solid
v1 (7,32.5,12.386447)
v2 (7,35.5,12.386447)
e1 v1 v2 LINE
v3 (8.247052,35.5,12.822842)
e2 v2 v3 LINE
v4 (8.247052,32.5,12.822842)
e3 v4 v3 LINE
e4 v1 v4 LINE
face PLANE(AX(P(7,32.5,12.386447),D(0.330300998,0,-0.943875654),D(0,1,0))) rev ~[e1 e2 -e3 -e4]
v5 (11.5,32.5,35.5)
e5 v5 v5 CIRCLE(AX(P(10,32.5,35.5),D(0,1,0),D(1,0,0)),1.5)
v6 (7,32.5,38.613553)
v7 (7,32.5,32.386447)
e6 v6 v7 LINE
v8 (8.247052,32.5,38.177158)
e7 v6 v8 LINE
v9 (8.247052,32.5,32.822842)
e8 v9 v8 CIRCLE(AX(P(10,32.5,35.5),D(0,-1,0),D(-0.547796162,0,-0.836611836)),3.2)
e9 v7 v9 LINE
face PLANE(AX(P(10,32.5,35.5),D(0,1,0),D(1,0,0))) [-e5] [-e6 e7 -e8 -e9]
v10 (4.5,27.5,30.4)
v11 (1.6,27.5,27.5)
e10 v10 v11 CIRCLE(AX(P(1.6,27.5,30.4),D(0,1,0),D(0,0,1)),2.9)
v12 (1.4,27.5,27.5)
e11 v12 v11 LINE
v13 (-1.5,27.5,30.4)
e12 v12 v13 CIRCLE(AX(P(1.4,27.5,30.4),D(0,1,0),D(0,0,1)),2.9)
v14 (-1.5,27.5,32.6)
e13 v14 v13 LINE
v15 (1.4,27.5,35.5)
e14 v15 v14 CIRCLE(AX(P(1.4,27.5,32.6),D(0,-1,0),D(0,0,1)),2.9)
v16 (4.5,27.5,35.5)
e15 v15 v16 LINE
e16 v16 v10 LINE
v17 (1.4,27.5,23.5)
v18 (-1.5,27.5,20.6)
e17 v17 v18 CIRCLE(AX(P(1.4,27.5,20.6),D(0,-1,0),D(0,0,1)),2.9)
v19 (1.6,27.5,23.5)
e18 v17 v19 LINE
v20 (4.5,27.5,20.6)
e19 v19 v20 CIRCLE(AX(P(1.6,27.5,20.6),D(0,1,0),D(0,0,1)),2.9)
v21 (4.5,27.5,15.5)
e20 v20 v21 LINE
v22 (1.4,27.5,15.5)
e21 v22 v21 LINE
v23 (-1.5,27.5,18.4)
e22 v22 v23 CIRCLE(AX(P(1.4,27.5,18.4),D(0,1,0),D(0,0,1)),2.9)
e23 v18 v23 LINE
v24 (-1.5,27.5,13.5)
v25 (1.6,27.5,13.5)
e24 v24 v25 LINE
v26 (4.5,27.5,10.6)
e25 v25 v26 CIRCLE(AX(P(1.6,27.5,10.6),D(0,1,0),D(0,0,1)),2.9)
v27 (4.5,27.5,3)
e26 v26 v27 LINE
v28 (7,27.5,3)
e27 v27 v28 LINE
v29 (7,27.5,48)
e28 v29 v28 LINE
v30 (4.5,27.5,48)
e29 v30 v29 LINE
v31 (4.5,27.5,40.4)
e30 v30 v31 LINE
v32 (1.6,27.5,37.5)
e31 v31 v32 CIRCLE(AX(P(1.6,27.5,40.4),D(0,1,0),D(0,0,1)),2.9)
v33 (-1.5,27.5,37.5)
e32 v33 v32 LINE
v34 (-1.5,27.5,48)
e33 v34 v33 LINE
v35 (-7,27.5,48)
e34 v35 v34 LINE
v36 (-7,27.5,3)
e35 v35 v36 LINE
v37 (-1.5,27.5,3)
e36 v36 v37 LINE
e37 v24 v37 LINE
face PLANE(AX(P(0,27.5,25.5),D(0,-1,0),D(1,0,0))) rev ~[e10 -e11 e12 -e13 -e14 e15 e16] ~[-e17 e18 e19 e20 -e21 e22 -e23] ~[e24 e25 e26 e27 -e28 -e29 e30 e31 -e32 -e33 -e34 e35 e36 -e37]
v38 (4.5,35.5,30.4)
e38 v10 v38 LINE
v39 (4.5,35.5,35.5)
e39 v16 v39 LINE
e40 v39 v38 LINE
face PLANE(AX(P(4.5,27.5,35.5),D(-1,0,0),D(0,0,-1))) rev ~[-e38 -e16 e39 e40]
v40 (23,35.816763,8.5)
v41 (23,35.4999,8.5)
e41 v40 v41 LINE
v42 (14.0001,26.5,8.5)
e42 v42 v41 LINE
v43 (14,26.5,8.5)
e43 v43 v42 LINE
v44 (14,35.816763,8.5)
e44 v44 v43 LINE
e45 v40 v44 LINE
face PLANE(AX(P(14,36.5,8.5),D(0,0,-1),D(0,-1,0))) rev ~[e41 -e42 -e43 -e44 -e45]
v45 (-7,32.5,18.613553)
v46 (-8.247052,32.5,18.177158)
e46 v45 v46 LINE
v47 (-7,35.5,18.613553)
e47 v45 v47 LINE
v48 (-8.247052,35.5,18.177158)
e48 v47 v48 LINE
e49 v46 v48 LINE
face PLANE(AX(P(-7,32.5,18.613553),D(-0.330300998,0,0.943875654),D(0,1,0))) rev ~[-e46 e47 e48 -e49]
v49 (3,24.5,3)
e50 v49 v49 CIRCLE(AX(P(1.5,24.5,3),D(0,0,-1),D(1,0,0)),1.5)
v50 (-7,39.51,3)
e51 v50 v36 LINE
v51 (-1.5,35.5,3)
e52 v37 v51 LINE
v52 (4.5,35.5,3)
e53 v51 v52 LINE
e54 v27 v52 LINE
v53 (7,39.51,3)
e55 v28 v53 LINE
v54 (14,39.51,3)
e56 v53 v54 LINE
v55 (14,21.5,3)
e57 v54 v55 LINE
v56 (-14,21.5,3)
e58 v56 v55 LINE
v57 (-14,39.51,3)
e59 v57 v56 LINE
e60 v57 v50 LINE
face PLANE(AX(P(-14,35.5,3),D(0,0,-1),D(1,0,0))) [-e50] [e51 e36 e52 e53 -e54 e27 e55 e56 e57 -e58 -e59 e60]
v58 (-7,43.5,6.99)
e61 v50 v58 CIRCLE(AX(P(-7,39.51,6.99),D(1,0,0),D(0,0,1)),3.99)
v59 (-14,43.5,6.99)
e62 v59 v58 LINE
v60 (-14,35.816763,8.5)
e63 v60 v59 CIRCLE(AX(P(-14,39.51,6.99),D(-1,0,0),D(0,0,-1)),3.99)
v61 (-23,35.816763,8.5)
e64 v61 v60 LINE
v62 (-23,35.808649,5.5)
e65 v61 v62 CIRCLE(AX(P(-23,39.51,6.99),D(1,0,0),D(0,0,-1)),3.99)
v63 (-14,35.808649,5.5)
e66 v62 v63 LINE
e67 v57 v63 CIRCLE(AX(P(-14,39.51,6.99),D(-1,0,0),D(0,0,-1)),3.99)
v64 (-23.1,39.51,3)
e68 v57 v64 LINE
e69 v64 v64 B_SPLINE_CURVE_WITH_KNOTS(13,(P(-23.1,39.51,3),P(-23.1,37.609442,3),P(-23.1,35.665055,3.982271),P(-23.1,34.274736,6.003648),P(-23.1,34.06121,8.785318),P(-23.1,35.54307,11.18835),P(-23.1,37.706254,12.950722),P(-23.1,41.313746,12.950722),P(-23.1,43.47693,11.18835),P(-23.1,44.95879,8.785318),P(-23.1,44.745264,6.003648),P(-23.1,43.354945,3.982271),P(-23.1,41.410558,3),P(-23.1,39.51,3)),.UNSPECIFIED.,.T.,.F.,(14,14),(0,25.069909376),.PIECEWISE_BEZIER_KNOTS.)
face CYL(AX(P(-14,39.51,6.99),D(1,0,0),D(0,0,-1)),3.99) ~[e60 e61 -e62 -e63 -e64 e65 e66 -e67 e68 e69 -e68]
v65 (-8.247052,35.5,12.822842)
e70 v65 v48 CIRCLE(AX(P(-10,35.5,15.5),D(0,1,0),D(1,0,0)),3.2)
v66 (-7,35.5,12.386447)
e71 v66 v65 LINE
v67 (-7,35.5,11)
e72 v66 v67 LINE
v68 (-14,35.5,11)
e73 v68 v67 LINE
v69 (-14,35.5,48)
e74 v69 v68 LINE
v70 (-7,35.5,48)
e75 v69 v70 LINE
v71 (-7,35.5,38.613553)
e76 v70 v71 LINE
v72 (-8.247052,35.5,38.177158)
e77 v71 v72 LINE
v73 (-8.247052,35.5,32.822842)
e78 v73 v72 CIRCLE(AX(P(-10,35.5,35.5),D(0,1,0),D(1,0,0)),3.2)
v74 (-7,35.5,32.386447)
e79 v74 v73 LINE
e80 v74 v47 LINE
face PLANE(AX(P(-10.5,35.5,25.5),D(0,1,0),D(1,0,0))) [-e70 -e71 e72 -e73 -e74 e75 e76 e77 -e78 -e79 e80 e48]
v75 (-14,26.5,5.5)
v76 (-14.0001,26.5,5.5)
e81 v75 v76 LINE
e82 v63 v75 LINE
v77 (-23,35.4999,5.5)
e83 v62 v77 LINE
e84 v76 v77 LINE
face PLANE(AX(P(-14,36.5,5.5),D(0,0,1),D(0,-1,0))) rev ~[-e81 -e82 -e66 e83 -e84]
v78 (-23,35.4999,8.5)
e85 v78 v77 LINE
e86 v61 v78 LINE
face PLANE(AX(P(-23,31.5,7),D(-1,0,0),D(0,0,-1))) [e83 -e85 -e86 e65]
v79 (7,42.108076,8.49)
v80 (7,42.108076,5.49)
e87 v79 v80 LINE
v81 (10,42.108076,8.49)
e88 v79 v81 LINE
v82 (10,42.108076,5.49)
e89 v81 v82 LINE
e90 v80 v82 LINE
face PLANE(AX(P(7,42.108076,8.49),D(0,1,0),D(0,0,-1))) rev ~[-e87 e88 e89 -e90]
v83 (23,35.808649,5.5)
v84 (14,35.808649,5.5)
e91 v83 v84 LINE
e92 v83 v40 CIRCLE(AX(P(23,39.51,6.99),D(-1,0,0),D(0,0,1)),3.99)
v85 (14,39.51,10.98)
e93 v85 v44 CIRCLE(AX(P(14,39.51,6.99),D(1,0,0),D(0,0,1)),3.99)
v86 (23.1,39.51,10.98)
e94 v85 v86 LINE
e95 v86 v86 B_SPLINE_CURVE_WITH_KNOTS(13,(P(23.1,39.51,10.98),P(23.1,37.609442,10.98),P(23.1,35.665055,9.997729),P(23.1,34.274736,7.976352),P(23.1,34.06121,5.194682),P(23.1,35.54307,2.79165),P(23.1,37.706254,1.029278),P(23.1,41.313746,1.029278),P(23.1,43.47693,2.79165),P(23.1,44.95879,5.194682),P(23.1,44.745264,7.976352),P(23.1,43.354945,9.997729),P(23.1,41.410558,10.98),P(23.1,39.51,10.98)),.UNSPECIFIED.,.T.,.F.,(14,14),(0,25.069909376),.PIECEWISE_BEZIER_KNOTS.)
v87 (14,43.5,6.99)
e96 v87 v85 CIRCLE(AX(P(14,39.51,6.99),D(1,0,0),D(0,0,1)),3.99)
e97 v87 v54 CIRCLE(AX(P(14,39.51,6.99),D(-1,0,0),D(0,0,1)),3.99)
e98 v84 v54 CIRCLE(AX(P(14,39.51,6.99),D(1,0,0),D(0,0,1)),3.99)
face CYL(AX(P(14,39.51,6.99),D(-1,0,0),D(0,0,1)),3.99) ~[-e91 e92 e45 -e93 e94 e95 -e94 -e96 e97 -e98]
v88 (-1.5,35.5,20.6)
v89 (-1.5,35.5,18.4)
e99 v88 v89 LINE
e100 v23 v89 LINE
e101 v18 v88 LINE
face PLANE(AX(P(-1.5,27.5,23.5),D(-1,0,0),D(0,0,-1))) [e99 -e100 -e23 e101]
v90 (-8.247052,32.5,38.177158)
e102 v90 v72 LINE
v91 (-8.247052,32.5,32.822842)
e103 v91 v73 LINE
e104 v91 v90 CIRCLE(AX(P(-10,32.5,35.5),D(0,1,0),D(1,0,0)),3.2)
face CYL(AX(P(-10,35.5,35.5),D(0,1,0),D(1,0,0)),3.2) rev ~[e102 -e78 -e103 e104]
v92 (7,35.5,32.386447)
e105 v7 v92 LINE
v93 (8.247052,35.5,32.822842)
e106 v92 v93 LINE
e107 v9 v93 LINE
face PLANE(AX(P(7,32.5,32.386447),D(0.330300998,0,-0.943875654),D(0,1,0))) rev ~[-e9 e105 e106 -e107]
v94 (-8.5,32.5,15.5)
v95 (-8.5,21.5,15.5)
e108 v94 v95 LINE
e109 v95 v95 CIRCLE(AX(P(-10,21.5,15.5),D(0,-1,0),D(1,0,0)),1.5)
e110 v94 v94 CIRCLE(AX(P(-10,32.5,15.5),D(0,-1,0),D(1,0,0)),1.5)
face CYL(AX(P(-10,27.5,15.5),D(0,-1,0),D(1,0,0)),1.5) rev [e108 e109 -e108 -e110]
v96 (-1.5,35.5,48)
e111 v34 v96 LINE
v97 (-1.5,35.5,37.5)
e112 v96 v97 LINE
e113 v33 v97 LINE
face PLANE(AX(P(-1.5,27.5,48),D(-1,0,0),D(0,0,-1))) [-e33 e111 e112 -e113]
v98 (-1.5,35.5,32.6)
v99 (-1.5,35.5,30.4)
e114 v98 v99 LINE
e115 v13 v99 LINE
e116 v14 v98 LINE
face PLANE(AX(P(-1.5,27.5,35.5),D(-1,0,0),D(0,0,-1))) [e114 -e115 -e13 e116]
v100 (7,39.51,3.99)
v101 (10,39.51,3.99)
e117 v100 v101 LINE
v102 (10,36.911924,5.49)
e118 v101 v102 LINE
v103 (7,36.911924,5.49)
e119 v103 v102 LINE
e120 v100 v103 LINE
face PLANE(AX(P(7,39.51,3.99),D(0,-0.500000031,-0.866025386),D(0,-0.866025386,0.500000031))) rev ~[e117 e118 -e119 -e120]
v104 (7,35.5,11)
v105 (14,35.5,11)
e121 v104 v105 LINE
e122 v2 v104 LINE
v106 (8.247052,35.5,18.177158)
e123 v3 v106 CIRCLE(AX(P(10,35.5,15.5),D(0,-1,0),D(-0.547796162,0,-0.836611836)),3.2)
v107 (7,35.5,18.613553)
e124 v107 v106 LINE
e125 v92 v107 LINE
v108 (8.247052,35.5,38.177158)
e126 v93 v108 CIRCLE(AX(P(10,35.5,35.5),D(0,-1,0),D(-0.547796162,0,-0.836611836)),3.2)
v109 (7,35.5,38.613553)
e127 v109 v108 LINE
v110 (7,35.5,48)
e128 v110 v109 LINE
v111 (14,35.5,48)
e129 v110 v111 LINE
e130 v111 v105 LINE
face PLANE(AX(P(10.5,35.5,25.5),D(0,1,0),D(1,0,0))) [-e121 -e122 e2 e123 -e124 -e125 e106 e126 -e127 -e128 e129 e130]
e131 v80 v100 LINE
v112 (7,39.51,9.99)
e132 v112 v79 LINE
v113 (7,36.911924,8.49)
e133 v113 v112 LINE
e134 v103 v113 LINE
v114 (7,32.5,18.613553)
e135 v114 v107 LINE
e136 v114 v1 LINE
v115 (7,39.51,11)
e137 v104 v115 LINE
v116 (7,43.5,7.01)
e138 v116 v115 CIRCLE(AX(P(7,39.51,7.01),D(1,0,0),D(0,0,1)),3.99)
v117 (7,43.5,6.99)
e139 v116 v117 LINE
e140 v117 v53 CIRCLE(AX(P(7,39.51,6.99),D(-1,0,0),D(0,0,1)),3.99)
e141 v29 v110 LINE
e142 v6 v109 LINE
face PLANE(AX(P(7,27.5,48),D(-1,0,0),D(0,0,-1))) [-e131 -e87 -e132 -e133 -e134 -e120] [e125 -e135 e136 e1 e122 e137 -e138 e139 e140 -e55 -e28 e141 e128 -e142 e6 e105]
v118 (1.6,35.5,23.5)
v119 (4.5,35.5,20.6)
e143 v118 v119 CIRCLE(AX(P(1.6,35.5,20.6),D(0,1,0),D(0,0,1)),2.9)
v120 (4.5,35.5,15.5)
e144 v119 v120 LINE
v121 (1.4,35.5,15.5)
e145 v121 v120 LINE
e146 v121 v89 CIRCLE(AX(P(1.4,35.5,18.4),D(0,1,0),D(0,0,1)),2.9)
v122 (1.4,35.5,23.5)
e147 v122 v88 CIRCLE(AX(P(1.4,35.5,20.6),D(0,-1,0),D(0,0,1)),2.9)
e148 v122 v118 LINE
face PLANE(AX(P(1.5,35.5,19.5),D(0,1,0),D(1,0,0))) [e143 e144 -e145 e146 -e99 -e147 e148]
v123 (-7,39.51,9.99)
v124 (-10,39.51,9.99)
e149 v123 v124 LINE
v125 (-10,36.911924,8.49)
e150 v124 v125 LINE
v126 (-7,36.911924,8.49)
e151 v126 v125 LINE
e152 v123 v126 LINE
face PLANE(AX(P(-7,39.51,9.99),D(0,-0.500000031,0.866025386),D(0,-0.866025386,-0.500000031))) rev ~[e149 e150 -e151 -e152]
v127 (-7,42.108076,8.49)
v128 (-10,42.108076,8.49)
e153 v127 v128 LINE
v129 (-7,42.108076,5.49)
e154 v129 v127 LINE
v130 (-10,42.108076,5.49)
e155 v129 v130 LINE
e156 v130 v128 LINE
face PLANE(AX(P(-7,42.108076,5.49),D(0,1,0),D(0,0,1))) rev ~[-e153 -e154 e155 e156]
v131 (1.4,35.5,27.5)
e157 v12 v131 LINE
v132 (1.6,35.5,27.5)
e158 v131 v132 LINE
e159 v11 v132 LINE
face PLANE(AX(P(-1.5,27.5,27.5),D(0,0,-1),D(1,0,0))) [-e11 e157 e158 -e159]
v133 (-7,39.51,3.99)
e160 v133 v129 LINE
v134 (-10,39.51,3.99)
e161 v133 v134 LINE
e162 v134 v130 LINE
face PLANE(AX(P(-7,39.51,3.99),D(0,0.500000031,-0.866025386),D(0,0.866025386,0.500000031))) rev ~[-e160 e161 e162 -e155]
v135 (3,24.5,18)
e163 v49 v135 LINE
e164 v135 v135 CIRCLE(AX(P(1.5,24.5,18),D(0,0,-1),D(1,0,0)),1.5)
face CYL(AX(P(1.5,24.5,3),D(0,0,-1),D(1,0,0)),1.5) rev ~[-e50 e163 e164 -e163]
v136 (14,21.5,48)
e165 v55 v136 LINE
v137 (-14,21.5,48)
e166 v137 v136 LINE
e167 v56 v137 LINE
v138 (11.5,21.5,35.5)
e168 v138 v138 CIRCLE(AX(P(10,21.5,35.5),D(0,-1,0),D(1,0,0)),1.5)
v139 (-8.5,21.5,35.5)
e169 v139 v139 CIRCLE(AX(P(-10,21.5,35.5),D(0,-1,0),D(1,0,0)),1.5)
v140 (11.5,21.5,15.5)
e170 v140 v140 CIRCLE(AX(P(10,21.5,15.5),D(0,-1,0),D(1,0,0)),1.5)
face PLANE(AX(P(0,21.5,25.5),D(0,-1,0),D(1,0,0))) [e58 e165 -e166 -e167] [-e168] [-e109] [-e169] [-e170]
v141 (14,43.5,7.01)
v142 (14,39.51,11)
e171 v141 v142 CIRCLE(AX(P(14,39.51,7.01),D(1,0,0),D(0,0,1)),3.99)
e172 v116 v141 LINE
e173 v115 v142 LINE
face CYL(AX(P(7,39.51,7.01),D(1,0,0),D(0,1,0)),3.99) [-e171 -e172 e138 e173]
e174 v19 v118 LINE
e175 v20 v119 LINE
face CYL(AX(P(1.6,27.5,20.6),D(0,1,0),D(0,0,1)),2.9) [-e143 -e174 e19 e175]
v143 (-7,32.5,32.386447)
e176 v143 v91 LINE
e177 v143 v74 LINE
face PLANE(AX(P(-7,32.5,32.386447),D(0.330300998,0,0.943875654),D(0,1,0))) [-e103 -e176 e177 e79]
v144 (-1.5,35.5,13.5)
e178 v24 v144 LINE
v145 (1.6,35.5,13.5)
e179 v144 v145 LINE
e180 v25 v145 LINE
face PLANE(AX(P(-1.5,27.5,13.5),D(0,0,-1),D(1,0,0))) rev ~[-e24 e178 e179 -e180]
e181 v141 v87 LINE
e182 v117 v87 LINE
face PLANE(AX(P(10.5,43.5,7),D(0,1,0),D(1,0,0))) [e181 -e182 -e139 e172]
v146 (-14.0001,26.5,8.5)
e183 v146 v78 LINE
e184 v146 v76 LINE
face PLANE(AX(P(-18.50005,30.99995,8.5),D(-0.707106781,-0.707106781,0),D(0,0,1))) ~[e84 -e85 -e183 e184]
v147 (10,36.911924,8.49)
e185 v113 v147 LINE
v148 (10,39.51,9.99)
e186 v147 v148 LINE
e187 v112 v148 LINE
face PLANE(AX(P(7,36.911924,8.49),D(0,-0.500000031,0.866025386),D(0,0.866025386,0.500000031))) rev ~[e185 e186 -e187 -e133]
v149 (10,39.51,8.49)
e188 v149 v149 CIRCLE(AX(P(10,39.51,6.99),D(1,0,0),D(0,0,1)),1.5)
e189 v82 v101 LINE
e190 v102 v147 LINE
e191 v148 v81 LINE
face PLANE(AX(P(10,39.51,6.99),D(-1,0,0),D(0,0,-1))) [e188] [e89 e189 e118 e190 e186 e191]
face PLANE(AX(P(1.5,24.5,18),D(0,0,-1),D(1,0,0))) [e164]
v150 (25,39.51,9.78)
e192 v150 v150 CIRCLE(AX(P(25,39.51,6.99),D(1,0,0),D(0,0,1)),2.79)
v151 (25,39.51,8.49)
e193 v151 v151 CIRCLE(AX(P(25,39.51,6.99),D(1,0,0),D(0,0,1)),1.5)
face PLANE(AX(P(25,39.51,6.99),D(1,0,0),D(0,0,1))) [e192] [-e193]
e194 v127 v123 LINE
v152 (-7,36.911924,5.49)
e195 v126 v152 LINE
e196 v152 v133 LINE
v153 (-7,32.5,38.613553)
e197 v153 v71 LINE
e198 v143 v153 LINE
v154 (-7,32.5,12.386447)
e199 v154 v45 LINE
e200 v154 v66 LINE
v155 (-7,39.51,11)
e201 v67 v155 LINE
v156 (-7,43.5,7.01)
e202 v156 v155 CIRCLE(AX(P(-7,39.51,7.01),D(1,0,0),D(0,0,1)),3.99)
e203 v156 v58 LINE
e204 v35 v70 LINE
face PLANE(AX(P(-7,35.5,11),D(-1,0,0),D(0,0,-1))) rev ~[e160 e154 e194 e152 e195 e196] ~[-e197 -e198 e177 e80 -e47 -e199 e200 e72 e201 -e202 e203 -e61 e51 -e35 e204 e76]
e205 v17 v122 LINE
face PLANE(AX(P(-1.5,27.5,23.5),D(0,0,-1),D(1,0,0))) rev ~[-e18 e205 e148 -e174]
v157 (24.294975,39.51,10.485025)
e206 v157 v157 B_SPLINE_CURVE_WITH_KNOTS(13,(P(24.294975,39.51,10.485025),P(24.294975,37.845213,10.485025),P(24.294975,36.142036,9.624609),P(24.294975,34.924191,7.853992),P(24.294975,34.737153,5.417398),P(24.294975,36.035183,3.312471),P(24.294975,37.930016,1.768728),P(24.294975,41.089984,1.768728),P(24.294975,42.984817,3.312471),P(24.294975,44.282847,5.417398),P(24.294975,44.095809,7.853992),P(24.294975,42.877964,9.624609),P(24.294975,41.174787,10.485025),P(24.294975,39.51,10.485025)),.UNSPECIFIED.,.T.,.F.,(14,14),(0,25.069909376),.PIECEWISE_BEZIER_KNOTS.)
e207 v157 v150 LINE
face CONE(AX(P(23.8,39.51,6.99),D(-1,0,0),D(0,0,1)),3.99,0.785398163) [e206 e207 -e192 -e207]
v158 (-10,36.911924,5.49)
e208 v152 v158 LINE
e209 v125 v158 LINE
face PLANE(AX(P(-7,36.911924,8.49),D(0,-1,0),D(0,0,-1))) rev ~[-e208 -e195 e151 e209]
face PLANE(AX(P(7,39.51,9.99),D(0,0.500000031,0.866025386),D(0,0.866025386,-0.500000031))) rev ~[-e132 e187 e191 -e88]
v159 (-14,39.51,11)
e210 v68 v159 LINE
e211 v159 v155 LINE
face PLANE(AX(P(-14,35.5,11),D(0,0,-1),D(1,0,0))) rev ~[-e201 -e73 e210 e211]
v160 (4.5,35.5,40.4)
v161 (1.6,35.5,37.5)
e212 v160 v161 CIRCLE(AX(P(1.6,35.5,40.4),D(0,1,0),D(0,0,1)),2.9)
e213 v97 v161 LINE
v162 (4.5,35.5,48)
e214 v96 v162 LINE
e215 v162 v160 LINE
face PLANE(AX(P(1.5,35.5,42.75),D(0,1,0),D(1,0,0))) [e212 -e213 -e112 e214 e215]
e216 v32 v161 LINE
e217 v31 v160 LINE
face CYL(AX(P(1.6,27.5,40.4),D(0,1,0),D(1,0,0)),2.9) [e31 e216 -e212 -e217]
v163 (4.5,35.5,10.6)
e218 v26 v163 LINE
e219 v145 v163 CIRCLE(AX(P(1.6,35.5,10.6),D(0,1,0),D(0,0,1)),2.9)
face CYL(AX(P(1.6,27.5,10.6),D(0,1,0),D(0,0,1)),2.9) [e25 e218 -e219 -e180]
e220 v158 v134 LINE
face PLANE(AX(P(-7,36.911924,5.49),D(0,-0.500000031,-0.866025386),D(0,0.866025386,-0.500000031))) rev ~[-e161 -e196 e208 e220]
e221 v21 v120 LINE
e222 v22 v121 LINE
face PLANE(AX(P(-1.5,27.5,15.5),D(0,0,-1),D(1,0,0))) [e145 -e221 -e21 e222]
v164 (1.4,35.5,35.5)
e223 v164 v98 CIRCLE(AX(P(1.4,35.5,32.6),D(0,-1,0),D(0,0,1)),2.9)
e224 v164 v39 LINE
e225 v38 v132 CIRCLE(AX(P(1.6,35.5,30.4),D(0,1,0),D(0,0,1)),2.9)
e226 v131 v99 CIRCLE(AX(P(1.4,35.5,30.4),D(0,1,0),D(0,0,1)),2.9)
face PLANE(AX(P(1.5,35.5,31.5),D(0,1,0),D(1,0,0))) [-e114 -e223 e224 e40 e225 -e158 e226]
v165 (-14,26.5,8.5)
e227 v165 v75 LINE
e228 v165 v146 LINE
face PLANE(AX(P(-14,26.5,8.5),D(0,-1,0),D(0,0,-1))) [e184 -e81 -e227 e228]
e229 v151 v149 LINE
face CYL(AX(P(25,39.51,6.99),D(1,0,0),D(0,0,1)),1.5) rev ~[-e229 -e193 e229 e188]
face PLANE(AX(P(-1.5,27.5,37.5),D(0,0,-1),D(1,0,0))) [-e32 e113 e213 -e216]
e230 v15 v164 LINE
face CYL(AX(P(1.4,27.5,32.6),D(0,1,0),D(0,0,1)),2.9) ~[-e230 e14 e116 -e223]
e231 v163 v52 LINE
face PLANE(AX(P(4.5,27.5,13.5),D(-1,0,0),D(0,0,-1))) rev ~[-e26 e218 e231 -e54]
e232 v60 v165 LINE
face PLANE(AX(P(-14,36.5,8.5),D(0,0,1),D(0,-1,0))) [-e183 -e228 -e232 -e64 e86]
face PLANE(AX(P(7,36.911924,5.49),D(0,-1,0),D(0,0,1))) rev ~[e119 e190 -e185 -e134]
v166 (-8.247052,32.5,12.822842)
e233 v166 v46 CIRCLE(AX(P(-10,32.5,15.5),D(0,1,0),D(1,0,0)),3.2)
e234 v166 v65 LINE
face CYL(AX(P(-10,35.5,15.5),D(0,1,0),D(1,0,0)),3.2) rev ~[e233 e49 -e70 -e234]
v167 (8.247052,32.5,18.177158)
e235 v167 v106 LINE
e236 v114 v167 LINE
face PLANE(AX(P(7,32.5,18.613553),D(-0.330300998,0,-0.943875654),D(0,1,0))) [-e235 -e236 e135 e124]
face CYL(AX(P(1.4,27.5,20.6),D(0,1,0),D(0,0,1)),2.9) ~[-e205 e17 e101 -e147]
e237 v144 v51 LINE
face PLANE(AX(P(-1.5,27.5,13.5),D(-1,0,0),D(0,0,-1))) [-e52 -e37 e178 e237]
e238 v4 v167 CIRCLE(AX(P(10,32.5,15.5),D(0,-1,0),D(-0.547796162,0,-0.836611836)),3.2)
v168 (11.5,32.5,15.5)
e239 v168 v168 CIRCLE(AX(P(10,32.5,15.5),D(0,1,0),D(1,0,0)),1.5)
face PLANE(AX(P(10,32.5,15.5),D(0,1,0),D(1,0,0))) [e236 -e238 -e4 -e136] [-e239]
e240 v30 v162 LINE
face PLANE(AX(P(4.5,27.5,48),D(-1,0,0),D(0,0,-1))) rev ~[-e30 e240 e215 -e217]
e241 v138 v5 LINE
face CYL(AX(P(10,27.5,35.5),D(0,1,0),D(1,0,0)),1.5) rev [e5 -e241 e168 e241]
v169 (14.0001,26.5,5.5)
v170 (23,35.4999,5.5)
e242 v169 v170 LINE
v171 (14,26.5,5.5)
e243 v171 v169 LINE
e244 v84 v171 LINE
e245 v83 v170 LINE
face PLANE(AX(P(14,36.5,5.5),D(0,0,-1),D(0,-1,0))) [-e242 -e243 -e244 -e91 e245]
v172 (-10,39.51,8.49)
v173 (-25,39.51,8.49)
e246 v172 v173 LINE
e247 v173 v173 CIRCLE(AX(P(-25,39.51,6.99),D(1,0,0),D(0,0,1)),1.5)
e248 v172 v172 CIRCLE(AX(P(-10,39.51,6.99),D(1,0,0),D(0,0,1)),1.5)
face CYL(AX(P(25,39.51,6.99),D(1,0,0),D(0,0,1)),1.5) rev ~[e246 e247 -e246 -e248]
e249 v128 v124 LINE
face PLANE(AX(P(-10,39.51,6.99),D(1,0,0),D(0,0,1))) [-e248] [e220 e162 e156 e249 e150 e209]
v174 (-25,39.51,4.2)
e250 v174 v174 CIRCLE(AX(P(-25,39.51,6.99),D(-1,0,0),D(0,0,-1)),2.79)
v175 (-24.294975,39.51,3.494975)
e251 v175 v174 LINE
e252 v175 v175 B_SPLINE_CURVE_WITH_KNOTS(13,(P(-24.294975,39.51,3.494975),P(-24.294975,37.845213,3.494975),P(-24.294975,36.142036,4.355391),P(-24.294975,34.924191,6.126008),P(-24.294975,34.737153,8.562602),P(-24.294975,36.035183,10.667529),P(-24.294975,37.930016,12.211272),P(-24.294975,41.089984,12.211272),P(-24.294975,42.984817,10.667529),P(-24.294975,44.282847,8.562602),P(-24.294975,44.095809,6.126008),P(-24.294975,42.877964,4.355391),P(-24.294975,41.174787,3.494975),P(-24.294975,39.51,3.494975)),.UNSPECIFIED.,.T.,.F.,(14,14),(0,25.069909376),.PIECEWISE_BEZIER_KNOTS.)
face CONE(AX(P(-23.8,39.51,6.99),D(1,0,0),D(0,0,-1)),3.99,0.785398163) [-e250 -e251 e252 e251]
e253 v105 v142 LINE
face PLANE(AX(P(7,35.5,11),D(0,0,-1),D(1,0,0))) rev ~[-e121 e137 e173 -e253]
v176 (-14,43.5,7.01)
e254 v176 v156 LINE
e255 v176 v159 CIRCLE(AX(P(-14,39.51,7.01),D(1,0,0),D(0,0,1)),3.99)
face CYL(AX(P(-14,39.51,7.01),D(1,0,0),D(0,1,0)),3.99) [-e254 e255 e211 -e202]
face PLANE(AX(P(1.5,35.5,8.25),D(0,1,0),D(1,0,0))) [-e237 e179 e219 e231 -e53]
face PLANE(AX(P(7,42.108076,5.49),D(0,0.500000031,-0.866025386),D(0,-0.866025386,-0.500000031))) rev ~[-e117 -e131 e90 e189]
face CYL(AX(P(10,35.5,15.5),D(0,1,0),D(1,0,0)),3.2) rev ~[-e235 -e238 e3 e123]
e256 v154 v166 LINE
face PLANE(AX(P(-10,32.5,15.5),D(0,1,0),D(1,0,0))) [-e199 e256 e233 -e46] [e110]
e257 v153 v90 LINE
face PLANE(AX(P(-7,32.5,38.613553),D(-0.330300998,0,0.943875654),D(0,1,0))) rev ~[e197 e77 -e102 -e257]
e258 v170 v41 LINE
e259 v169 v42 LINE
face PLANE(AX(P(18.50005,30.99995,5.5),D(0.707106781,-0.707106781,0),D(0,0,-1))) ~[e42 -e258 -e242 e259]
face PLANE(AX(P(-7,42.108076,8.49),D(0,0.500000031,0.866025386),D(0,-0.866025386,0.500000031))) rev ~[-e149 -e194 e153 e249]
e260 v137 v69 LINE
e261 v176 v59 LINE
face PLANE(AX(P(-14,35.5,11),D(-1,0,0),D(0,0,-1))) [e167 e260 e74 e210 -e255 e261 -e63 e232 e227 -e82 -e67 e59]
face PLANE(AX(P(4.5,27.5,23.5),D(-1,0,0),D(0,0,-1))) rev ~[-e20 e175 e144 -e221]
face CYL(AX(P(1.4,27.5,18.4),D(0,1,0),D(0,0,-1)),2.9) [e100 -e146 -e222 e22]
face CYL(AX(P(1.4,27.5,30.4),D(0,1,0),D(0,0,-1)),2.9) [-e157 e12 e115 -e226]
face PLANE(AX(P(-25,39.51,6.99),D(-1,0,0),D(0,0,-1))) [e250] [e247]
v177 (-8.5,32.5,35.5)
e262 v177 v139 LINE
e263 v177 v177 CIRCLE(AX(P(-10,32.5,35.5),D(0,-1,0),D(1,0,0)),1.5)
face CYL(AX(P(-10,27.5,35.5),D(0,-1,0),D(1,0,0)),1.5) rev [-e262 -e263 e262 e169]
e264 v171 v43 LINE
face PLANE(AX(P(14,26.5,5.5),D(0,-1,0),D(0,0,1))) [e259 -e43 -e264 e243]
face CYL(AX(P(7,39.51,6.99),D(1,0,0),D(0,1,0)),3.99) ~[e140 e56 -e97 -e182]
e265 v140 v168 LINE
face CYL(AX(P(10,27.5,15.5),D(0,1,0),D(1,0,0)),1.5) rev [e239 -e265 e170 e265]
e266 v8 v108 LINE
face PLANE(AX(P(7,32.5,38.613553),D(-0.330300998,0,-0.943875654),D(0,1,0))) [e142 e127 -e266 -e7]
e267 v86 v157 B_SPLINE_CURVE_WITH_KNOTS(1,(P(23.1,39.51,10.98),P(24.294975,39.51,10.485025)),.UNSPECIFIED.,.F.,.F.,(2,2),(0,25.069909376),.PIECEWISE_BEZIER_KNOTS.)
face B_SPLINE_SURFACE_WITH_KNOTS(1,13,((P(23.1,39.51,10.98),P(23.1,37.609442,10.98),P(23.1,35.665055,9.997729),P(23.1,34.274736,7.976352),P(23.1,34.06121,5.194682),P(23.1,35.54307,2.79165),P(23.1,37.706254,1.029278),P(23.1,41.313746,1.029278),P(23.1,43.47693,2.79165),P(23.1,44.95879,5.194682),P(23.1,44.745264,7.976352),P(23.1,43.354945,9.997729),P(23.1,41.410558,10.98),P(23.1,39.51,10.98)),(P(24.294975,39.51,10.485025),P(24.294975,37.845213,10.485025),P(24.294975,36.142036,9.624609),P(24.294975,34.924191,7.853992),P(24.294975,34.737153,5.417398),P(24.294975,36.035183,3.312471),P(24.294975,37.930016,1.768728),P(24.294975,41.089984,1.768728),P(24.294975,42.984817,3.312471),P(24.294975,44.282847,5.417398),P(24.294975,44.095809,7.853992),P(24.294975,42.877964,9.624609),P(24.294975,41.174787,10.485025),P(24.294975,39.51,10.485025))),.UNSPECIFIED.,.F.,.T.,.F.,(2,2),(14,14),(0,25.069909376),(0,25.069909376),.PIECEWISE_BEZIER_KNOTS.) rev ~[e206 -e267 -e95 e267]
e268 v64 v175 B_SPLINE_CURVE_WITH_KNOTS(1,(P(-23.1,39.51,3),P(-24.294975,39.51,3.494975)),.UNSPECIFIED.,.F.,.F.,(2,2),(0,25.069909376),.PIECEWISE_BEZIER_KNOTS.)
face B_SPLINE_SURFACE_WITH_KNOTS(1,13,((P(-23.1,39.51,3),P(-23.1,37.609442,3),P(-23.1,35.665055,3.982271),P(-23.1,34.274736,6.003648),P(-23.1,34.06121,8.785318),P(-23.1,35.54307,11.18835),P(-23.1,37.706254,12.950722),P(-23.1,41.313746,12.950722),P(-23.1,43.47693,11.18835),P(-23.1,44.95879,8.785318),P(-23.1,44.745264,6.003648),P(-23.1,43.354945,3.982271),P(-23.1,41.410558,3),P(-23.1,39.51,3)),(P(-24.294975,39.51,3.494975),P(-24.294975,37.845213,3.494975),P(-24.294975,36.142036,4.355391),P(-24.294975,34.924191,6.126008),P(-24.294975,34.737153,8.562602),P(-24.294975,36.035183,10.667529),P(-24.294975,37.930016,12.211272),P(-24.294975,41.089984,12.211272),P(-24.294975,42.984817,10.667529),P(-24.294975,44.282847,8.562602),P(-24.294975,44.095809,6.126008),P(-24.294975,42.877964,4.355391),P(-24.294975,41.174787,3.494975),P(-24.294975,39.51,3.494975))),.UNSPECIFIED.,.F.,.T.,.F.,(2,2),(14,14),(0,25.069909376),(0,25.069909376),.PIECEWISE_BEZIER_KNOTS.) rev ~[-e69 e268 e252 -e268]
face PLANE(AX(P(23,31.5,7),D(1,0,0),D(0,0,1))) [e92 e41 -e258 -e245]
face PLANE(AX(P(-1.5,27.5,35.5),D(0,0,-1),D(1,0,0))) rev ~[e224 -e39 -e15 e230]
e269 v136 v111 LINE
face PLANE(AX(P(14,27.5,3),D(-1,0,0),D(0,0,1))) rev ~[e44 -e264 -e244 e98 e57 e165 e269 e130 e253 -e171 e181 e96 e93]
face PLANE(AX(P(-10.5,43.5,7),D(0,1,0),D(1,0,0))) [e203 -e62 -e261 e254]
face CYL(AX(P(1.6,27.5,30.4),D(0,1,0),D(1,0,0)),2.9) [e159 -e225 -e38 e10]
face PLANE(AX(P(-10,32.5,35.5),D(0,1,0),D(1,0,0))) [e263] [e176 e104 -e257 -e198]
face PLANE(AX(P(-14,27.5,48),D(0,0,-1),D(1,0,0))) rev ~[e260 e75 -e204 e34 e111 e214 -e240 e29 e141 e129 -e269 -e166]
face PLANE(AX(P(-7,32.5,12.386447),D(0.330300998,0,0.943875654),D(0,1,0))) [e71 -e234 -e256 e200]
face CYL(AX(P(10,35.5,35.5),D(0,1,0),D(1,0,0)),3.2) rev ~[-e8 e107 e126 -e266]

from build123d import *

# Parameters (mm, degrees)
SKETCH008_W     = 28
SKETCH008_H     = 45
SKETCH008_R     = 1.5
PAD003_DEPTH    = 6
SKETCH009_W     = 7
SKETCH009_H     = 45
SKETCH009_R     = 1.5
SKETCH009_W_2   = 6
SKETCH009_H_2   = 10.5
SKETCH009_H_3   = 8
PAD004_DEPTH    = 8
FILLET002_R     = 2.9
SKETCH011_W     = 7
SKETCH011_H     = 8
PAD005_DEPTH    = 8
FILLET003_R     = 3.99
SKETCH012_R     = 3.99
PAD006_DEPTH    = 11
SKETCH013_R     = 3.99
PAD007_DEPTH    = 11
SKETCH014_R     = 1.5
POCKET001_DEPTH = 52
CHAMFER001_SIZE = 1.2
SKETCH015_W     = 3
SKETCH015_H     = 10
PAD008_DEPTH    = 9
SKETCH016_W     = 3
SKETCH016_H     = 10
PAD009_DEPTH    = 9
CHAMFER002_SIZE = 8.9999
CHAMFER003_SIZE = 0.7
POCKET002_DEPTH = 3
POCKET003_DEPTH = 3
SKETCH019_R     = 1.5
POCKET004_DEPTH = 15
SKETCH020_R     = 3.2
POCKET005_DEPTH = 3
CHAMFER004_SIZE = 2


with BuildPart() as part:
    # Sketch008 → Pad003 (new body)
    with BuildSketch(Plane.XZ):
        with Locations((14, 22.5)):
            Rectangle(SKETCH008_W, SKETCH008_H)
        with Locations((4, 32.5)):
            Circle(SKETCH008_R, mode=Mode.SUBTRACT)
        with Locations((24, 32.5)):
            Circle(SKETCH008_R, mode=Mode.SUBTRACT)
        with Locations((4, 12.5)):
            Circle(SKETCH008_R, mode=Mode.SUBTRACT)
        with Locations((24, 12.5)):
            Circle(SKETCH008_R, mode=Mode.SUBTRACT)
    extrude(amount=PAD003_DEPTH)

    # Sketch009 (on Face9 of Pad003) → Pad004 (join)
    with BuildSketch(Plane(origin=(0, 0, 0), x_dir=(1, 0, 0), z_dir=(0, 1, 0))):
        with Locations((3.5, -22.5)):
            Rectangle(SKETCH009_W, SKETCH009_H)
        with Locations((4, -12.5)):
            Circle(SKETCH009_R, mode=Mode.SUBTRACT)
        with Locations((4, -32.5)):
            Circle(SKETCH009_R, mode=Mode.SUBTRACT)
        with Locations((24.5, -22.5)):
            Rectangle(SKETCH009_W, SKETCH009_H)
        with Locations((24, -12.5)):
            Circle(SKETCH009_R, mode=Mode.SUBTRACT)
        with Locations((24, -32.5)):
            Circle(SKETCH009_R, mode=Mode.SUBTRACT)
        with Locations((15.5, -5.25)):
            Rectangle(SKETCH009_W_2, SKETCH009_H_2)
        with Locations((15.5, -16.5)):
            Rectangle(SKETCH009_W_2, SKETCH009_H_3)
        with Locations((15.5, -28.5)):
            Rectangle(SKETCH009_W_2, SKETCH009_H_3)
        with Locations((15.5, -39.75)):
            Rectangle(SKETCH009_W_2, SKETCH009_H_2)
    extrude(amount=PAD004_DEPTH)

    # Fillet002
    fillet002_edges = [part.edges().sort_by_distance(p)[0] for p in [
        (12.5, 4, 24.5),
        (18.5, 4, 24.5),
        (12.5, 4, 32.5),
        (18.5, 4, 34.5),
        (18.5, 4, 20.5),
        (12.5, 4, 20.5),
        (12.5, 4, 12.5),
        (18.5, 4, 10.5),
    ]]
    fillet(fillet002_edges, radius=FILLET002_R)

    # Sketch011 (on Face36 of Fillet002) → Pad005 (join)
    with BuildSketch(Plane(origin=(0, 8, 0), x_dir=(1, 0, 0), z_dir=(0, 1, 0))):
        with Locations((3.5, -4)):
            Rectangle(SKETCH011_W, SKETCH011_H)
        with Locations((24.5, -4)):
            Rectangle(SKETCH011_W, SKETCH011_H)
    extrude(amount=PAD005_DEPTH)

    # Fillet003
    fillet003_edges = [part.edges().sort_by_distance(p)[0] for p in [
        (3.5, 16, 8),
        (3.5, 16, 0),
        (24.5, 16, 0),
        (24.5, 16, 8),
    ]]
    fillet(fillet003_edges, radius=FILLET003_R)

    # Sketch012 (on Face8 of Fillet003) → Pad006 (join)
    with BuildSketch(Plane(origin=(0, 0, 0), x_dir=(0, 0, -1), z_dir=(-1, 0, 0))):
        with Locations((-3.99, -12.01)):
            Circle(SKETCH012_R)
    extrude(amount=PAD006_DEPTH)

    # Sketch013 (on Face68 of Pad006) → Pad007 (join)
    with BuildSketch(Plane(origin=(28, 0, 0), x_dir=(0, 0, 1), z_dir=(1, 0, 0))):
        with Locations((3.99, -12.01)):
            Circle(SKETCH013_R)
    extrude(amount=PAD007_DEPTH)

    # Sketch014 (on Face70 of Pad007) → Pocket001 (cut)
    with BuildSketch(Plane(origin=(39, 0, 0), x_dir=(0, 0, 1), z_dir=(1, 0, 0))):
        with Locations((3.99, -12.01)):
            Circle(SKETCH014_R)
    extrude(amount=-POCKET001_DEPTH, mode=Mode.SUBTRACT)

    # Chamfer001
    chamfer001_edges = [part.edges().sort_by_distance(p)[0] for p in [
        (-11, 12.01, 7.98),
        (39, 12.01, 0),
    ]]
    chamfer(chamfer001_edges, length=CHAMFER001_SIZE)

    # Sketch015 (on Face10 of Chamfer001) → Pad008 (join)
    with BuildSketch(Plane(origin=(0, 0, 0), x_dir=(0, 0, -1), z_dir=(-1, 0, 0))):
        with Locations((-4, -4)):
            Rectangle(SKETCH015_W, SKETCH015_H)
    extrude(amount=PAD008_DEPTH)

    # Sketch016 (on Face62 of Pad008) → Pad009 (join)
    with BuildSketch(Plane(origin=(28, 0, 0), x_dir=(0, 0, 1), z_dir=(1, 0, 0))):
        with Locations((4, -4)):
            Rectangle(SKETCH016_W, SKETCH016_H)
    extrude(amount=PAD009_DEPTH)

    # Chamfer002
    chamfer002_edges = [part.edges().sort_by_distance(p)[0] for p in [
        (37, -1, 4),
        (-9, -1, 4),
    ]]
    chamfer(chamfer002_edges, length=CHAMFER002_SIZE)

    # Chamfer003
    chamfer003_edges = [part.edges().sort_by_distance(p)[0] for p in [
        (-9.8, 12.01, 7.98),
        (37.8, 12.01, 0),
    ]]
    chamfer(chamfer003_edges, length=CHAMFER003_SIZE)

    # Sketch017 (on Face75 of Chamfer003) → Pocket002 (cut)
    with BuildSketch(Plane(origin=(21, 0, 0), x_dir=(0, 0, -1), z_dir=(-1, 0, 0))):
        Polygon((-2.49, -14.608076), (-0.99, -12.01), (-2.49, -9.411924), (-5.49, -9.411924), (-6.99, -12.01), (-5.49, -14.608076), align=None)
    extrude(amount=-POCKET002_DEPTH, mode=Mode.SUBTRACT)

    # Sketch018 (on Face16 of Pocket002) → Pocket003 (cut)
    with BuildSketch(Plane(origin=(7, 0, 0), x_dir=(0, 0, 1), z_dir=(1, 0, 0))):
        Polygon((5.49, -14.608076), (6.99, -12.01), (5.49, -9.411924), (2.49, -9.411924), (0.99, -12.01), (2.49, -14.608076), align=None)
    extrude(amount=-POCKET003_DEPTH, mode=Mode.SUBTRACT)

    # Sketch019 (on Face22 of Pocket003) → Pocket004 (cut)
    with BuildSketch(Plane(origin=(0, 0, 0), x_dir=(1, 0, 0), z_dir=(0, 0, -1))):
        with Locations((15.5, 3)):
            Circle(SKETCH019_R)
    extrude(amount=-POCKET004_DEPTH, mode=Mode.SUBTRACT)

    # Sketch020 (on Face32 of Pocket004) → Pocket005 (cut)
    with BuildSketch(Plane(origin=(0, 8, 0), x_dir=(1, 0, 0), z_dir=(0, 1, 0))):
        with Locations((4, -12.5)):
            Circle(SKETCH020_R)
        with Locations((4, -32.5)):
            Circle(SKETCH020_R)
        with Locations((24, -32.5)):
            Circle(SKETCH020_R)
        with Locations((24, -12.5)):
            Circle(SKETCH020_R)
    extrude(amount=-POCKET005_DEPTH, mode=Mode.SUBTRACT)

    # Chamfer004
    chamfer004_edges = [part.edges().sort_by_distance(p)[0] for p in [
        (7, 6.5, 11.386447),
        (7, 6.5, 13.613553),
        (21, 6.5, 11.386447),
        (7, 6.5, 31.386447),
        (21, 6.5, 31.386447),
        (7, 6.5, 33.613553),
        (21, 6.5, 33.613553),
        (21, 6.5, 13.613553),
    ]]
    chamfer(chamfer004_edges, length=CHAMFER004_SIZE)


with BuildPart() as part_1:
    # Body006 placement: moved
    add(part.part.moved(Location((-14, 27.5, 3))))


solid = part_1.part
